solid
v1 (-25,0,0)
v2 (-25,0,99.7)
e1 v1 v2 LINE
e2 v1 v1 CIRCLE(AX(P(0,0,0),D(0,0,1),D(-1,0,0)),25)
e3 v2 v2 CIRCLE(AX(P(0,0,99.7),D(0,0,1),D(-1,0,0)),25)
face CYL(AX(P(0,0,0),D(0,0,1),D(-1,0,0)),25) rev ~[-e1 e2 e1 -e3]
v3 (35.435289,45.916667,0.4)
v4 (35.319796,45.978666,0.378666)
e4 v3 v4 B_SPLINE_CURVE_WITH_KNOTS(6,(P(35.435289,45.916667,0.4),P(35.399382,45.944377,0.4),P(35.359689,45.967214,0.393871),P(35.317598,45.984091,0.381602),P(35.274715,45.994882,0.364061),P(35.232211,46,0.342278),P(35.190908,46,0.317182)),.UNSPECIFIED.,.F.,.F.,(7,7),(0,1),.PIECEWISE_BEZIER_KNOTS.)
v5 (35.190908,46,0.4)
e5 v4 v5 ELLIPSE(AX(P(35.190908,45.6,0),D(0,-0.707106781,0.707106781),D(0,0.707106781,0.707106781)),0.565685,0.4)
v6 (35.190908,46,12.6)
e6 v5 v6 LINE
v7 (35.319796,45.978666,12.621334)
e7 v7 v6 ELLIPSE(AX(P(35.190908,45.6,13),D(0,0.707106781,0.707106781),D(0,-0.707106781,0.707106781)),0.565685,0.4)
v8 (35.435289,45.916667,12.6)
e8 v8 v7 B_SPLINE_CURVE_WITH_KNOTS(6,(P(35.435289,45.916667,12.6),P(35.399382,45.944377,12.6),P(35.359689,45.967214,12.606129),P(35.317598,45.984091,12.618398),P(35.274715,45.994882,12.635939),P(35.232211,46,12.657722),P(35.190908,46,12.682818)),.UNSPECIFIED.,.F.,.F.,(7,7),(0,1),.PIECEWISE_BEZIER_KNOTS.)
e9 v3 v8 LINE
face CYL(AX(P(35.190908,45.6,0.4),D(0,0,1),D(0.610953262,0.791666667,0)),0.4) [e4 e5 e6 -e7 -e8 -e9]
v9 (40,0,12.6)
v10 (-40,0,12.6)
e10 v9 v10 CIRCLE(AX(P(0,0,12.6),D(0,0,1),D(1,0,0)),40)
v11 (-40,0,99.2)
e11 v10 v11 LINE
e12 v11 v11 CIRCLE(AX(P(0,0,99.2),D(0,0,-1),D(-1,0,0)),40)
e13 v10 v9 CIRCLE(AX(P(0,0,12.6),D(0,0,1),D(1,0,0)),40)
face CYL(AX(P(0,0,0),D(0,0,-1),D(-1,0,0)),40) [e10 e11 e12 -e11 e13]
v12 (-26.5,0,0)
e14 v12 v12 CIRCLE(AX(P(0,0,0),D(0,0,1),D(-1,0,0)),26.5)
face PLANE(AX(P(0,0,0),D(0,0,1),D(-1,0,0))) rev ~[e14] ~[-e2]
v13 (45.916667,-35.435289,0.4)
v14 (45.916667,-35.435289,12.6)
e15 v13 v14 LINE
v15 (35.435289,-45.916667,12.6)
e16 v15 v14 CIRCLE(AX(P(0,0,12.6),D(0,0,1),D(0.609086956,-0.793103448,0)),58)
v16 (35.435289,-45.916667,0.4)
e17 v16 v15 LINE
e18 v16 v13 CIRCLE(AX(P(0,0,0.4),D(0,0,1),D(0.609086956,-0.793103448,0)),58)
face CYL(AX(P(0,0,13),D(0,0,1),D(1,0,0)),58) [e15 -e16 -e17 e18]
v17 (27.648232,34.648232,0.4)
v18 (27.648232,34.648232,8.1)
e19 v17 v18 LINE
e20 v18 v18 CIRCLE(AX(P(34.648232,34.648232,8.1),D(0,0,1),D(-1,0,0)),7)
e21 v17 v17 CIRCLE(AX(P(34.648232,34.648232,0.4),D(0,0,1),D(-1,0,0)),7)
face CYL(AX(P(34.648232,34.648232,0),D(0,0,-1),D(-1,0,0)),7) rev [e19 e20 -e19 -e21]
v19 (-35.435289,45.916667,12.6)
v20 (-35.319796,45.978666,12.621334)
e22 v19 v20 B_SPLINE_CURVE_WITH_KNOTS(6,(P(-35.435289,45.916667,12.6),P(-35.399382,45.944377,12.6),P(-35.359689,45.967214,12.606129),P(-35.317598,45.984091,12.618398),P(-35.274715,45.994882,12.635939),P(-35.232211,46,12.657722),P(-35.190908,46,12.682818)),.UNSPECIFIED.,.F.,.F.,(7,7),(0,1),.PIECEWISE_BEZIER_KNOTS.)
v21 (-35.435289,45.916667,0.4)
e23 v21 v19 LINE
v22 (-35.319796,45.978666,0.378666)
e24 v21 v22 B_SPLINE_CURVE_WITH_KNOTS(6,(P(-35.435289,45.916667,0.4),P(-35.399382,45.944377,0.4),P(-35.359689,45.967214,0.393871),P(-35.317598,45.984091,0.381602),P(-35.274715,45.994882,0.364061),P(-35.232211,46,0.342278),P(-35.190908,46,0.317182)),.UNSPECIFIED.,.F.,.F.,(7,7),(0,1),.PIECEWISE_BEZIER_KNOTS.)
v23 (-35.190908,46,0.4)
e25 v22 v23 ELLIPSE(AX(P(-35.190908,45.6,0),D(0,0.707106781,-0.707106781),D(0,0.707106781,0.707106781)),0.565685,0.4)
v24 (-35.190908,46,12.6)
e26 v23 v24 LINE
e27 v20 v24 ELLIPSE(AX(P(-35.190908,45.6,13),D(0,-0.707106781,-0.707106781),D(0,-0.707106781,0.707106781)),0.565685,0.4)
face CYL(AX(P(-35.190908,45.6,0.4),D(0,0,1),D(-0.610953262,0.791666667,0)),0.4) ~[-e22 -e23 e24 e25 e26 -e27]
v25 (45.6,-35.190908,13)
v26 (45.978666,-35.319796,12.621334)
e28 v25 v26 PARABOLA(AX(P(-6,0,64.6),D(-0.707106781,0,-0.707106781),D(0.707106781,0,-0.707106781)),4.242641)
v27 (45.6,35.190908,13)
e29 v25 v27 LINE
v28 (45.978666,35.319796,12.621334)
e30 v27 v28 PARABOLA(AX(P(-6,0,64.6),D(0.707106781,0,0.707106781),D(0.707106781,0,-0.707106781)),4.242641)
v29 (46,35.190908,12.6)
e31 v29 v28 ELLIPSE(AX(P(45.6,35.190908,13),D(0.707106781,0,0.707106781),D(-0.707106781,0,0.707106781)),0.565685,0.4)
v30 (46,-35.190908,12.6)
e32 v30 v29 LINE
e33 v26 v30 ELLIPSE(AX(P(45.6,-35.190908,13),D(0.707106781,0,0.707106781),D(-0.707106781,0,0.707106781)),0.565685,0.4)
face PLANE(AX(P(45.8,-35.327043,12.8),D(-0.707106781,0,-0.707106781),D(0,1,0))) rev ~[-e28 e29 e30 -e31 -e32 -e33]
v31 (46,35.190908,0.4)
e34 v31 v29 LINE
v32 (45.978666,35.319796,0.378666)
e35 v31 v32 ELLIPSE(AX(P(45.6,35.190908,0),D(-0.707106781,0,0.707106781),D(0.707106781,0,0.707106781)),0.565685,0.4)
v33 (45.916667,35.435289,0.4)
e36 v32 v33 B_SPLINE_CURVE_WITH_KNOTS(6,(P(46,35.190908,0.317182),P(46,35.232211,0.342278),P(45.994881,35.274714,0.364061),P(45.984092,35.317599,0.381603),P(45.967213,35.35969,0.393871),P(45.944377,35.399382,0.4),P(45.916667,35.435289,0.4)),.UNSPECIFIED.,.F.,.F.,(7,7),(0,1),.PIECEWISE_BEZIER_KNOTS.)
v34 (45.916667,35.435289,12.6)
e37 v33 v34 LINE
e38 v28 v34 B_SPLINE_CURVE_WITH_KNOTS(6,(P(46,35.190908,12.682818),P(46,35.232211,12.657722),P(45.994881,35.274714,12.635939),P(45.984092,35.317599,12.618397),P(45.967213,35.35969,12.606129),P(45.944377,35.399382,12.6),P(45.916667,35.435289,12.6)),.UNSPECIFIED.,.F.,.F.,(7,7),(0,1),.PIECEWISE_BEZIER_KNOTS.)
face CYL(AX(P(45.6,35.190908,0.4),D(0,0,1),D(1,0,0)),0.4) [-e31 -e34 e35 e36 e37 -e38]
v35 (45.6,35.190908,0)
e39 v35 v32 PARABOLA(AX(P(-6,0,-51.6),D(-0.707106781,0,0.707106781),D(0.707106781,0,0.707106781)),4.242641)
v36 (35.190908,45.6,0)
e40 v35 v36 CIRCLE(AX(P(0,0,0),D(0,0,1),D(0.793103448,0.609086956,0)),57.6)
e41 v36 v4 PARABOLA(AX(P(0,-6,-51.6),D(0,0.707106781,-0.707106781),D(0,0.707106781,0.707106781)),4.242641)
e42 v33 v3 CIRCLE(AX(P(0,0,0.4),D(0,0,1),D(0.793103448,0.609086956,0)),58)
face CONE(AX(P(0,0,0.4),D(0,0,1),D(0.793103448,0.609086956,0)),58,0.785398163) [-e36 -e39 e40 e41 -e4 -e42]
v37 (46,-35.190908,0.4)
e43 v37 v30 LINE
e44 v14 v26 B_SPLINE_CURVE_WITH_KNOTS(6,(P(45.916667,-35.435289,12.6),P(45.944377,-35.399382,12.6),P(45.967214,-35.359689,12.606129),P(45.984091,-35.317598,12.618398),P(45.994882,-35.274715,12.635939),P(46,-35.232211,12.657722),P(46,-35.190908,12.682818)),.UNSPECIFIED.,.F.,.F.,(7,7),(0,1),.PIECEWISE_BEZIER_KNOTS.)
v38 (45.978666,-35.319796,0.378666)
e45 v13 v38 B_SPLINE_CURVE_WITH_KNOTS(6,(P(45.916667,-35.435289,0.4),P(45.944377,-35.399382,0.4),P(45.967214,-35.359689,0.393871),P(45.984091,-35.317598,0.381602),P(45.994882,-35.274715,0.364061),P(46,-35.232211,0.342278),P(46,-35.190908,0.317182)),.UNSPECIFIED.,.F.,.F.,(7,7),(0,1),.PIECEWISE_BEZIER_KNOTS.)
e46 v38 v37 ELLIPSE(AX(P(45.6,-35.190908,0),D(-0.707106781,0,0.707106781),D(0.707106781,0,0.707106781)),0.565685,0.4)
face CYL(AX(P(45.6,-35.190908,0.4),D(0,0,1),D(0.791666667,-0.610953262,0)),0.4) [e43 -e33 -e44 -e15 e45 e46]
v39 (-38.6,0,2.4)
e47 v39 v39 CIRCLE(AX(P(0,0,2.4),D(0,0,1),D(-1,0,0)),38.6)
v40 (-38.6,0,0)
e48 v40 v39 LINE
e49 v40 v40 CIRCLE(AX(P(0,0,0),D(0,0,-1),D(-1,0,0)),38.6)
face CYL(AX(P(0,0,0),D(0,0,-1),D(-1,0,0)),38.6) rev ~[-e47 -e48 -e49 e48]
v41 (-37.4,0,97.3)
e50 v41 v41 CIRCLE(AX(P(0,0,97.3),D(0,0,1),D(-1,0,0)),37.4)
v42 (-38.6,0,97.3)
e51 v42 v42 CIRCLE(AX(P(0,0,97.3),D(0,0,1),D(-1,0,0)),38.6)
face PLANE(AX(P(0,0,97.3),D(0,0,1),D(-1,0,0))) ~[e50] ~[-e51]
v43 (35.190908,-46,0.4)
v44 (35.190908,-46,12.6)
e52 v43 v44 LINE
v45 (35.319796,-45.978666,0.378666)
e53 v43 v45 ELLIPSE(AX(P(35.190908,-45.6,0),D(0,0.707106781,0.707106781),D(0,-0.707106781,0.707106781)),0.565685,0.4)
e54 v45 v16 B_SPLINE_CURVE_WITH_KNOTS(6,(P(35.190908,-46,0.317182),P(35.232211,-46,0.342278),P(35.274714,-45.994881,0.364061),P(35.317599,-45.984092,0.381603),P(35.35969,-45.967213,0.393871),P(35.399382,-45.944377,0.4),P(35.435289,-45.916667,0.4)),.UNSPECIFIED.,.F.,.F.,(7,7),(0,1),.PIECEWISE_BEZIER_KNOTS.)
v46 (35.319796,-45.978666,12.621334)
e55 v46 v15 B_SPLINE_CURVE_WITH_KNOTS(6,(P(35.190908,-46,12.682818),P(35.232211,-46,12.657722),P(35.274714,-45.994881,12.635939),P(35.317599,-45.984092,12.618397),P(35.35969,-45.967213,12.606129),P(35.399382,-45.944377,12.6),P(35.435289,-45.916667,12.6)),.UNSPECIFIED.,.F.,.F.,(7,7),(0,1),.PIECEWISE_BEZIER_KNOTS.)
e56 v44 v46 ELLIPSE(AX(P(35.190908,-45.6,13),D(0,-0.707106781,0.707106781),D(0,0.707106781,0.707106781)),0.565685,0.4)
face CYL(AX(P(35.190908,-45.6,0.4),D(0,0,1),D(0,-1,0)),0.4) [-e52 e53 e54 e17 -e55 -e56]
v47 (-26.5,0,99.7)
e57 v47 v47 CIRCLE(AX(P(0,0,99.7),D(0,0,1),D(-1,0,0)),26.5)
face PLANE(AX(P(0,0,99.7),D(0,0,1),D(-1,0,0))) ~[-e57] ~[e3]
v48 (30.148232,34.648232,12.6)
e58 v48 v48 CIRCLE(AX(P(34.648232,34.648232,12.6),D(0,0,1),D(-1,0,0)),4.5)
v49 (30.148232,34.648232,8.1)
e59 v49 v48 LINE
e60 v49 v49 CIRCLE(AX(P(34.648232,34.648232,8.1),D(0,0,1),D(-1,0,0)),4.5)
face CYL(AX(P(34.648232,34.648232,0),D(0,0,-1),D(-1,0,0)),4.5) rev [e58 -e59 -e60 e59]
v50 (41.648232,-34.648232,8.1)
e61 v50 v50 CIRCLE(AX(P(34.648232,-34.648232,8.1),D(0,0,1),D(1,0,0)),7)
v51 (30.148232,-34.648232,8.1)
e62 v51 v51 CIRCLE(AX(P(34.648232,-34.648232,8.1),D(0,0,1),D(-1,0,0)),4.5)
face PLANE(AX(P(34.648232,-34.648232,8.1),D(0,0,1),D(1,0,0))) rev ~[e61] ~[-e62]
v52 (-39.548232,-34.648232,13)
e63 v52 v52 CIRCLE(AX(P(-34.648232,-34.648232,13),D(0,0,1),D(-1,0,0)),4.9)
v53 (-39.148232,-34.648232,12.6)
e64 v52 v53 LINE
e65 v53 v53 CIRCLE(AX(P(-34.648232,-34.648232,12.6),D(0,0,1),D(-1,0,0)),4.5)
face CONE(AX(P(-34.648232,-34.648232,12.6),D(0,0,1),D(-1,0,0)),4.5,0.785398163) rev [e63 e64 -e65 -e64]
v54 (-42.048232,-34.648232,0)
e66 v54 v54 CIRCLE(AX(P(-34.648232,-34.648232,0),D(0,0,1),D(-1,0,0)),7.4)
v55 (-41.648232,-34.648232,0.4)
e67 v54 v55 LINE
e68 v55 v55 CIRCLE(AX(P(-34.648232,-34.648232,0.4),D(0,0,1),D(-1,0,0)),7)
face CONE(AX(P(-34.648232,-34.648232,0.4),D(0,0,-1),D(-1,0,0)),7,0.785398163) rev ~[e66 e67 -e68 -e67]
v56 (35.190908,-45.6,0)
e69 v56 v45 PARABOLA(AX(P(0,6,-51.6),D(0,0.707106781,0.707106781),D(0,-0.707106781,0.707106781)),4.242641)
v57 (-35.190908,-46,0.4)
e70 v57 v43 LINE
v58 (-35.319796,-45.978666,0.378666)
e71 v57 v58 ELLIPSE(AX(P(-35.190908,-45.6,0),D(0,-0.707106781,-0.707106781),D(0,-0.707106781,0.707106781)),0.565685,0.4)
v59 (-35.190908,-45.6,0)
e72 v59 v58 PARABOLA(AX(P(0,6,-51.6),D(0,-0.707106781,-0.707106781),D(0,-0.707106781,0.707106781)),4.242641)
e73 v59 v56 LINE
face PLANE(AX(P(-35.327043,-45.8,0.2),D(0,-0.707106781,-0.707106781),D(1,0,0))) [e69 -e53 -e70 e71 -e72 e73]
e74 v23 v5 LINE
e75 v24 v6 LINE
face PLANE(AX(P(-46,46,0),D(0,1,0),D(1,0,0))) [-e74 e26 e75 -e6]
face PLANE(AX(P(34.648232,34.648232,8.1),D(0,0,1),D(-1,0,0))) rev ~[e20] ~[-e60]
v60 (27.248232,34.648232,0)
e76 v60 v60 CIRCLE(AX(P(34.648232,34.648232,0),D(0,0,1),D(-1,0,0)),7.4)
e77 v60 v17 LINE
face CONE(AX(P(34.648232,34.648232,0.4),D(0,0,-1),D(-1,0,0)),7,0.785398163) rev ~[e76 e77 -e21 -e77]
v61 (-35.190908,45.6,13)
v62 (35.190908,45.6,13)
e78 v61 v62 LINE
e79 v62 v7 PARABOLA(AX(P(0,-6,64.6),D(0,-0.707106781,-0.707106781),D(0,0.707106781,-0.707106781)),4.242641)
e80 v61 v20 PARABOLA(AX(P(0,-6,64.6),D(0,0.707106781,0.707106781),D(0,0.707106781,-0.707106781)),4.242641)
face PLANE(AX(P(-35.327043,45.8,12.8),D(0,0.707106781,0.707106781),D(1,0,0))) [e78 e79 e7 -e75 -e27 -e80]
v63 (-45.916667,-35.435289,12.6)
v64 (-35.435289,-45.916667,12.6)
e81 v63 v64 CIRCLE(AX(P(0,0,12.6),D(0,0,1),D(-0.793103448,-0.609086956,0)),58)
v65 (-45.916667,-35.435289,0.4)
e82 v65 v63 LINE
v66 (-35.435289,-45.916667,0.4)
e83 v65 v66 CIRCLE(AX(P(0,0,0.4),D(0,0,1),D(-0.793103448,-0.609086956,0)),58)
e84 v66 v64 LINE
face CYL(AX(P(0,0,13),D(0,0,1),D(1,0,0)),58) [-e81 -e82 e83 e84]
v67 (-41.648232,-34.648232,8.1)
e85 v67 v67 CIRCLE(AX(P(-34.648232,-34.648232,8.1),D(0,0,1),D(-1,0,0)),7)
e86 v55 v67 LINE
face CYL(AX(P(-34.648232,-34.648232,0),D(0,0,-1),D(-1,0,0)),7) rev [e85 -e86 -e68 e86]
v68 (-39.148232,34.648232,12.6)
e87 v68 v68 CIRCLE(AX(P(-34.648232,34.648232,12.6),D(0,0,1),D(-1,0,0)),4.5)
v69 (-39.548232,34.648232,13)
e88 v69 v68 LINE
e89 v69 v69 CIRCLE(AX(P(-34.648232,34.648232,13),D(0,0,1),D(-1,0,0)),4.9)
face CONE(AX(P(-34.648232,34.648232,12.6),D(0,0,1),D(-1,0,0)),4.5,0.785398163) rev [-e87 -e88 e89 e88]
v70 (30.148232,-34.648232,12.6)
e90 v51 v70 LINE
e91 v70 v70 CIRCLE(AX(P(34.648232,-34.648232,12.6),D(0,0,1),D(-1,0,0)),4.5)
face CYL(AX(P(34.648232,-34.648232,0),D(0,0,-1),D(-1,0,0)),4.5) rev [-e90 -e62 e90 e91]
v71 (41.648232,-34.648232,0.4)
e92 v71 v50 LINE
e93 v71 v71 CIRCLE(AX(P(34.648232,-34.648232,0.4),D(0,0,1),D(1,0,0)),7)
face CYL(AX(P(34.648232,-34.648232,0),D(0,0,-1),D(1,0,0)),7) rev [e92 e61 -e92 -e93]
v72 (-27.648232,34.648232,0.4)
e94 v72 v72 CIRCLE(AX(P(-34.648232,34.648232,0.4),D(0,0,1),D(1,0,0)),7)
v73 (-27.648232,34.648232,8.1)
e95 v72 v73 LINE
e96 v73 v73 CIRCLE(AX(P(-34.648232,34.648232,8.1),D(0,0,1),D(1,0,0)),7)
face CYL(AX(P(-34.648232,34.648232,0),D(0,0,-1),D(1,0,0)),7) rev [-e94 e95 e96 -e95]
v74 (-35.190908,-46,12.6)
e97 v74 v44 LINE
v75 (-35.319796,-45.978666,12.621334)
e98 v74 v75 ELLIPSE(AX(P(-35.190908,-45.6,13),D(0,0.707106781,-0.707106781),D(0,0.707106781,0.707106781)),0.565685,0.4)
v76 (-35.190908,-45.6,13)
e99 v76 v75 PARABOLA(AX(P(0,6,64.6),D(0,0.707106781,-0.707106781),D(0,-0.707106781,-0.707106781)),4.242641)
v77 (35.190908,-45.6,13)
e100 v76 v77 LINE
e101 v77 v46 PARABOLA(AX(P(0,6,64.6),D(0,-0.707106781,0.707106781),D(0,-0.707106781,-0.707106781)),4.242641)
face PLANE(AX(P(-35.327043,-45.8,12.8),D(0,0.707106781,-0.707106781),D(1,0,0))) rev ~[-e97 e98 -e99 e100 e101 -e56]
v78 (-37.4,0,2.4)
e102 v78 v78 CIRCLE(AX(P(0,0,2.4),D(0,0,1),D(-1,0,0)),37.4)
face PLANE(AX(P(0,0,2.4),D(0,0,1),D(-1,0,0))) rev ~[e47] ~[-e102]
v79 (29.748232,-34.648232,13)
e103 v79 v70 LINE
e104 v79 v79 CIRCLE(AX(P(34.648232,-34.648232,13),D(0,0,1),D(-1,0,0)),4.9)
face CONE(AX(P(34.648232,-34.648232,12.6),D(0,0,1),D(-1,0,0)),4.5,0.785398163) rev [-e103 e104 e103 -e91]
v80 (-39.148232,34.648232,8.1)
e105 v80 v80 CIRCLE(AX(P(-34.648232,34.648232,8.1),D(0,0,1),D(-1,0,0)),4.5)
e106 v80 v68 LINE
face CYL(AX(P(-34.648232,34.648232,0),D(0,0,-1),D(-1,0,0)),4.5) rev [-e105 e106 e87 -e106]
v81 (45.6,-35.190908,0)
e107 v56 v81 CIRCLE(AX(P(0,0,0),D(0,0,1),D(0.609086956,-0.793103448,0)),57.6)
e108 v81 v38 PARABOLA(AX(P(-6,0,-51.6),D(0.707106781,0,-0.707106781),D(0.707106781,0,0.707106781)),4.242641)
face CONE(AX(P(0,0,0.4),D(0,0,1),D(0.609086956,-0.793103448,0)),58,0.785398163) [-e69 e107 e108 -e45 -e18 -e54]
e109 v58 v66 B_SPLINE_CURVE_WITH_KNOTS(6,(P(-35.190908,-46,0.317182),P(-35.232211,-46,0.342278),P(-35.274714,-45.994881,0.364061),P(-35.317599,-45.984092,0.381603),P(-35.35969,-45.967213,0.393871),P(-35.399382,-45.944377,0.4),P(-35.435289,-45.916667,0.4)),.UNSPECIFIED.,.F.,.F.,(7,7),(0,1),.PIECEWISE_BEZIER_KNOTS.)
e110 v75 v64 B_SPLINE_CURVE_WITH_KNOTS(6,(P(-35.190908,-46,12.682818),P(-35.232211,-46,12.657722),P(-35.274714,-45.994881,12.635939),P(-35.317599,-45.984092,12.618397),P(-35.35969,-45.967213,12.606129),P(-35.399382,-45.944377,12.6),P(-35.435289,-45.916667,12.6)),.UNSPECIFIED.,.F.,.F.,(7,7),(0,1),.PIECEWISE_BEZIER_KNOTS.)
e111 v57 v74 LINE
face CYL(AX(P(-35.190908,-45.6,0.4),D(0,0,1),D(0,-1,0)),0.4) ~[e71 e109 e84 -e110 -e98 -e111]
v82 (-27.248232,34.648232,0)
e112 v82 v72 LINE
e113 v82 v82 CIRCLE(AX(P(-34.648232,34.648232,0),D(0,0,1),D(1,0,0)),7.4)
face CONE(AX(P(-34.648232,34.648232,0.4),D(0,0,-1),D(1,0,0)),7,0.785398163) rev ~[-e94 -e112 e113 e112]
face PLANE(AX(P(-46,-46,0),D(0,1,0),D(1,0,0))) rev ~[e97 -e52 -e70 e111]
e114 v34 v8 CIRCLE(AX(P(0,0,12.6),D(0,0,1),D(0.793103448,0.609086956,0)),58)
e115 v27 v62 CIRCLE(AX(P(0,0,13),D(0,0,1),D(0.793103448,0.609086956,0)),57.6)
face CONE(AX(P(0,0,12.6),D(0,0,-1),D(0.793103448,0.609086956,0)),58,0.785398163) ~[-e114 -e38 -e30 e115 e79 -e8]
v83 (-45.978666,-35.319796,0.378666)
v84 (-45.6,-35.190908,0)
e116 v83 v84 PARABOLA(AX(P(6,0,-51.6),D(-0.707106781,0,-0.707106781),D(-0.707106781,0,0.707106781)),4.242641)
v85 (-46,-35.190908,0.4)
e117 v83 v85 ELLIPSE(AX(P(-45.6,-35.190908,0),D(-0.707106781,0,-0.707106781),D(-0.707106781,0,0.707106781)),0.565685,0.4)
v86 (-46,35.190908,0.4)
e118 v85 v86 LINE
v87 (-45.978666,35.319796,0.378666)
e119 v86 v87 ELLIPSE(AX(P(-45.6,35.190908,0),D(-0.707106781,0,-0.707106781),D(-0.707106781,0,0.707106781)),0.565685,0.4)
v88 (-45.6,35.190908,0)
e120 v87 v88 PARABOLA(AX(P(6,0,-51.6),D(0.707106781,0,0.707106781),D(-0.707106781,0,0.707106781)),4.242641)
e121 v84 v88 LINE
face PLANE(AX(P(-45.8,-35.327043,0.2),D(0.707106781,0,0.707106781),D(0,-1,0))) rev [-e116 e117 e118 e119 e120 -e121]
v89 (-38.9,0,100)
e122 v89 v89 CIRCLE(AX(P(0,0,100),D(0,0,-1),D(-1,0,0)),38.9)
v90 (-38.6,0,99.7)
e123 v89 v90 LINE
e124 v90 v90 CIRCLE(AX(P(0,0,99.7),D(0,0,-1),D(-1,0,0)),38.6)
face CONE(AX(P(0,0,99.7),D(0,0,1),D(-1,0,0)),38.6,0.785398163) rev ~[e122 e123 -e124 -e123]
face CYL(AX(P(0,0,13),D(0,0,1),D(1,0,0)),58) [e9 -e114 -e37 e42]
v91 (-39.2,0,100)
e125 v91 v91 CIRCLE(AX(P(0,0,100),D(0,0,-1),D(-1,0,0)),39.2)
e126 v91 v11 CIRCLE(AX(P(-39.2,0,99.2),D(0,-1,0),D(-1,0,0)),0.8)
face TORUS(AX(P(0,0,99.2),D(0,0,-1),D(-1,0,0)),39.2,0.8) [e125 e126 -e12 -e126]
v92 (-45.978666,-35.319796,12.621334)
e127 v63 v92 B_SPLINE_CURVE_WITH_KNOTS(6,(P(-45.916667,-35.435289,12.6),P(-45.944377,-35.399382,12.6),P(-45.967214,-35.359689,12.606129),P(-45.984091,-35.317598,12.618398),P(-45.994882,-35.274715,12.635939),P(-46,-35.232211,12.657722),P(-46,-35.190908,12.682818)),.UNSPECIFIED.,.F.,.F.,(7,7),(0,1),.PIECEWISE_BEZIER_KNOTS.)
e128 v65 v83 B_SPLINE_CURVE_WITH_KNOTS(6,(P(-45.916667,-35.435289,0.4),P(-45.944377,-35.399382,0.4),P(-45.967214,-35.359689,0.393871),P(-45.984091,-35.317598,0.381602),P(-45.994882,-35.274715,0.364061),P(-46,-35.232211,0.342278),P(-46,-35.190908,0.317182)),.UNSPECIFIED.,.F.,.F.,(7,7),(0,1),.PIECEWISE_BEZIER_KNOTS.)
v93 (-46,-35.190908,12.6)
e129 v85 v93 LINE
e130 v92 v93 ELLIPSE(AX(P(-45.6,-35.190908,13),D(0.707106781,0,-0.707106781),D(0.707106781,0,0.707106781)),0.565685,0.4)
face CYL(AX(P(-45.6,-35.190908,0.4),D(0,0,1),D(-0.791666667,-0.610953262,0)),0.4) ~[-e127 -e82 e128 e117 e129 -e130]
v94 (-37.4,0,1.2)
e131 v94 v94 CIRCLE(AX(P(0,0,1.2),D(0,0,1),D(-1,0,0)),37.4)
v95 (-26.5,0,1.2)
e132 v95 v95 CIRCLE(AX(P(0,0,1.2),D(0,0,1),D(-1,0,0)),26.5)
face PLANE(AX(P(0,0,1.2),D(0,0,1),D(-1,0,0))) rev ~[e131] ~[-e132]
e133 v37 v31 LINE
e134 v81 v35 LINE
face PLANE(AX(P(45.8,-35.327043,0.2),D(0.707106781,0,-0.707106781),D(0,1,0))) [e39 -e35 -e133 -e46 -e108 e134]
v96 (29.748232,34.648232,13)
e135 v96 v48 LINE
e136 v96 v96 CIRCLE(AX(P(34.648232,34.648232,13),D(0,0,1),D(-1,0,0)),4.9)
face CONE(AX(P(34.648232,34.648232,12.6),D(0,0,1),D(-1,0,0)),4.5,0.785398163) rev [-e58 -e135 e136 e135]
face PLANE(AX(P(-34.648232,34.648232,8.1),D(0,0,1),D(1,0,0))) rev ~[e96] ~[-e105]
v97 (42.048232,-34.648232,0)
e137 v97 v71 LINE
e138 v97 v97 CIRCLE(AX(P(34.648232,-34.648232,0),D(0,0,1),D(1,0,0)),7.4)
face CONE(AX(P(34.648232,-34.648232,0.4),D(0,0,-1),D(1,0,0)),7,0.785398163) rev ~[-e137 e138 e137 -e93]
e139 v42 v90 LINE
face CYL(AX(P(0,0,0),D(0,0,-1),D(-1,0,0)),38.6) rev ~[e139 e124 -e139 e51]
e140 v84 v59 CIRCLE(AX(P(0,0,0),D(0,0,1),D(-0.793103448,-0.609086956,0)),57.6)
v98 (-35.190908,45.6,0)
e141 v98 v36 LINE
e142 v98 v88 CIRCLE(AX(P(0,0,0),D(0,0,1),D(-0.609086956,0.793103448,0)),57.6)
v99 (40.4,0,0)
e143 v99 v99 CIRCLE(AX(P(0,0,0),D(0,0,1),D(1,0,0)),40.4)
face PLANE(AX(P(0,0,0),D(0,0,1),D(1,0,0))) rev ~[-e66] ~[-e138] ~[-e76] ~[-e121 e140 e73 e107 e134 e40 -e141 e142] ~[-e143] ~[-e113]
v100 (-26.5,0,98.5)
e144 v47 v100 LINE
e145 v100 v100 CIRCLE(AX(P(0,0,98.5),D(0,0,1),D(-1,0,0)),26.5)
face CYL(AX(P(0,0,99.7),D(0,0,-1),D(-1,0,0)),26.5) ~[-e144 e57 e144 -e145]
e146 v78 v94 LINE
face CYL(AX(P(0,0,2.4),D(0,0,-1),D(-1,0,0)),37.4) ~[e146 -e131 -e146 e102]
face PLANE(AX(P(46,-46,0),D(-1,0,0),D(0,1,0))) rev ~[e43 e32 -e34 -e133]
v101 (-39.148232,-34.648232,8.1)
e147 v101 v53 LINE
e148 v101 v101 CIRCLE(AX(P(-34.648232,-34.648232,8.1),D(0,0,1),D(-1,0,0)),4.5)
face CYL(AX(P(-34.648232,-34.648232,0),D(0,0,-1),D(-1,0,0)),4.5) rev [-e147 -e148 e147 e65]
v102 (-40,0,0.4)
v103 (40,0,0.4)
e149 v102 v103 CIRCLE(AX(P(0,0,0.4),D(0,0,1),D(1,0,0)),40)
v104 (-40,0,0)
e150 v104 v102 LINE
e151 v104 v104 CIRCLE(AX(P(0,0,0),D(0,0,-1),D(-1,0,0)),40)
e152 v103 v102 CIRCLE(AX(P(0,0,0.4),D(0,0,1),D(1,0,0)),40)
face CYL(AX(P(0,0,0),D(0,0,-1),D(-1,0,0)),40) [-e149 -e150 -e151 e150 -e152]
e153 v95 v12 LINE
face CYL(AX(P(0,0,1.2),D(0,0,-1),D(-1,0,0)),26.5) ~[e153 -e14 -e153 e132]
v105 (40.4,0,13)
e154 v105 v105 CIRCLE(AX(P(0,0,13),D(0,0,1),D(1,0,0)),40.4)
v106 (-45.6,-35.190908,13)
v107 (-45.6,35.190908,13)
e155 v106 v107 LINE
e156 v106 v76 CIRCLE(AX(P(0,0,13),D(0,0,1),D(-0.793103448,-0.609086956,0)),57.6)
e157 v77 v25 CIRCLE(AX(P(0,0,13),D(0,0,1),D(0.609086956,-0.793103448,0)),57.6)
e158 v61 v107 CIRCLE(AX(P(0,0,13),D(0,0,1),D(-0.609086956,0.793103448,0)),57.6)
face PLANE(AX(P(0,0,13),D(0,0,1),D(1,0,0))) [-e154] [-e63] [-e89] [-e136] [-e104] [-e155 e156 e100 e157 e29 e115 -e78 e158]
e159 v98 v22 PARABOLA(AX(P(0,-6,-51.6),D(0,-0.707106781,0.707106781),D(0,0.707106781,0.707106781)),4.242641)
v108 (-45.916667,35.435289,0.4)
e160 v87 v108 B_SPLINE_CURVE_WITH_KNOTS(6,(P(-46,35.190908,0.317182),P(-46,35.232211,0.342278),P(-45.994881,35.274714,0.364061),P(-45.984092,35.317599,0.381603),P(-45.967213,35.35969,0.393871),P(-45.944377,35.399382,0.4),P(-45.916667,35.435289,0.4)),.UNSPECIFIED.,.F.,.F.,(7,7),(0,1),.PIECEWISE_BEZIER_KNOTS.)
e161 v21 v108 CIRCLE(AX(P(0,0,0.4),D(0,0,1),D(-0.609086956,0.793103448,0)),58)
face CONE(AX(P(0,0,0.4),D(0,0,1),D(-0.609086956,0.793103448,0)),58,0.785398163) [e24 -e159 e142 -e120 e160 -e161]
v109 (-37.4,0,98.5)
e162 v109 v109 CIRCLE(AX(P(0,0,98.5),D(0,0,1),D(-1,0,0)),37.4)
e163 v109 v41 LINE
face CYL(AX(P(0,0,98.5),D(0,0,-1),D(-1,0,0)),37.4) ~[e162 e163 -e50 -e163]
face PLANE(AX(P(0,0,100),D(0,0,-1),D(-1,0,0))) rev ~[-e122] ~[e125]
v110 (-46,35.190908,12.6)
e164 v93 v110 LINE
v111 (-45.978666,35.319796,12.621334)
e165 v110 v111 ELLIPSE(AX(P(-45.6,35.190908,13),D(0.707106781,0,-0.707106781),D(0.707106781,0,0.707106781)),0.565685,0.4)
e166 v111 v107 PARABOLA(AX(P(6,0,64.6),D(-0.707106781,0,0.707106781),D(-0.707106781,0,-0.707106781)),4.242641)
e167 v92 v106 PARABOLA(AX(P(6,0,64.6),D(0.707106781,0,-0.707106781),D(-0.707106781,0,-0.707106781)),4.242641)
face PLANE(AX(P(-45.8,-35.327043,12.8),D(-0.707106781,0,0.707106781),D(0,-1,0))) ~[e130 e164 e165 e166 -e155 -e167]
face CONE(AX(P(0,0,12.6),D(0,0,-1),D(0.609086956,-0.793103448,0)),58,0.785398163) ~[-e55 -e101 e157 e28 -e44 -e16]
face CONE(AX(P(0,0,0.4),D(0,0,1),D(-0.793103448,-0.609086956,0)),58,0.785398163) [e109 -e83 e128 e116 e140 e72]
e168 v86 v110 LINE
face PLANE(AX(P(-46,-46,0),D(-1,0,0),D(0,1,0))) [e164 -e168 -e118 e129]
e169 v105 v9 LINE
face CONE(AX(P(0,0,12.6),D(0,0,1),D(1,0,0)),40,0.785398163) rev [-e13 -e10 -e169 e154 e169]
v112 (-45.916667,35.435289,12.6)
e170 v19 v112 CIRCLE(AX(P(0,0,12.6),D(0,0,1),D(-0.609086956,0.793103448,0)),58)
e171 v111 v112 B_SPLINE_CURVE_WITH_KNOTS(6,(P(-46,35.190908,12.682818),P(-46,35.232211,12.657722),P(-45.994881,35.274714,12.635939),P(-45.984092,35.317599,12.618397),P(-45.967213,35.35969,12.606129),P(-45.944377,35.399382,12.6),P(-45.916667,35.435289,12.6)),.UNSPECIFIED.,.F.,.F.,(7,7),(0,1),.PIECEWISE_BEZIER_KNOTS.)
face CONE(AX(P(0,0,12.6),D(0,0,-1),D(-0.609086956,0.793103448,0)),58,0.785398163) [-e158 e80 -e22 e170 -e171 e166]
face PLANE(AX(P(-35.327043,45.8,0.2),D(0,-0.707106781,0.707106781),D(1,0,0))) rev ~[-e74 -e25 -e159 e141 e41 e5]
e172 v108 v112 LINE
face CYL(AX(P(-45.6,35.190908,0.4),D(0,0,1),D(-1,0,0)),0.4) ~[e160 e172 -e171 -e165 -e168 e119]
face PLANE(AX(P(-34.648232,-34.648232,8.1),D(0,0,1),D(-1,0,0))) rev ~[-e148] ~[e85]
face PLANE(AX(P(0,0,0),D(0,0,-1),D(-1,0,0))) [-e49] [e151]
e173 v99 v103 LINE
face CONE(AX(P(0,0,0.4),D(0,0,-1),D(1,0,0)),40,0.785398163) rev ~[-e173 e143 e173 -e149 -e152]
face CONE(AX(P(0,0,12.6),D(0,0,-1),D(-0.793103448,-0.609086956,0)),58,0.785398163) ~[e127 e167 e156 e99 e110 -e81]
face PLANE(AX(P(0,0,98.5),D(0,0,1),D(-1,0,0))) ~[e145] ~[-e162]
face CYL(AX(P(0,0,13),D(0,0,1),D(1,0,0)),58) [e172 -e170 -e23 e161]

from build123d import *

# Parameters (mm, degrees)
SKETCH_1_W          = 92
SKETCH_1_H          = 92
SKETCH_1_R          = 40
EXTRUDE_1_DEPTH     = 13
SKETCH_3_OUTSIDE_W  = 120.152
SKETCH_3_OUTSIDE_H  = 120.152
SKETCH_3_OUTSIDE_R  = 58
CUT_EXTRUDE_2_DEPTH = 13
SKETCH_5_R          = 4.5
CUT_EXTRUDE_3_DEPTH = 13
SKETCH_5_3_R        = 7
SKETCH_5_3_R_2      = 4.5
CUT_EXTRUDE_4_DEPTH = 8.1
CHAMFER_1_SIZE      = 0.4
SKETCH_7_R          = 40
SKETCH_7_R_2        = 38.6
EXTRUDE_2_DEPTH     = 100
FILLET_1_R          = 0.8
CHAMFER_2_SIZE      = 0.3
FILLET_2_R          = 0.4


with BuildPart() as part:
    # Sketch 1 → Extrude 1 (new body)
    with BuildSketch(Plane.XY):
        Rectangle(SKETCH_1_W, SKETCH_1_H)
        Circle(SKETCH_1_R, mode=Mode.SUBTRACT)
    extrude(amount=EXTRUDE_1_DEPTH)

    # Sketch 3 outside → Cut-Extrude 2 (cut)
    with BuildSketch(Plane.XY.offset(13)):
        Rectangle(SKETCH_3_OUTSIDE_W, SKETCH_3_OUTSIDE_H)
        Circle(SKETCH_3_OUTSIDE_R, mode=Mode.SUBTRACT)
    extrude(amount=-CUT_EXTRUDE_2_DEPTH, mode=Mode.SUBTRACT)

    # Sketch 5 → Cut-Extrude 3 (cut)
    with BuildSketch(Plane.XY):
        with Locations(Location((-34.648232278, 34.648232278, 0), (0, 0, 180))):  # turned: the seam where the file's is
            Circle(SKETCH_5_R)
        with Locations(Location((-34.648232278, -34.648232278, 0), (0, 0, 180))):  # turned: the seam where the file's is
            Circle(SKETCH_5_R)
        with Locations(Location((34.648232278, -34.648232278, 0), (0, 0, 180))):  # turned: the seam where the file's is
            Circle(SKETCH_5_R)
        with Locations(Location((34.648232278, 34.648232278, 0), (0, 0, 180))):  # turned: the seam where the file's is
            Circle(SKETCH_5_R)
    extrude(amount=CUT_EXTRUDE_3_DEPTH, mode=Mode.SUBTRACT)

    # Sketch 5_3 → Cut-Extrude 4 (cut)
    with BuildSketch(Plane.XY):
        with Locations((-34.648232278, 34.648232278)):
            Circle(SKETCH_5_3_R)
        with Locations(Location((-34.648232278, 34.648232278, 0), (0, 0, 180))):  # turned: the seam where the file's is
            Circle(SKETCH_5_3_R_2, mode=Mode.SUBTRACT)
        with Locations(Location((34.648232278, 34.648232278, 0), (0, 0, 180))):  # turned: the seam where the file's is
            Circle(SKETCH_5_3_R)
        with Locations(Location((34.648232278, 34.648232278, 0), (0, 0, 180))):  # turned: the seam where the file's is
            Circle(SKETCH_5_3_R_2, mode=Mode.SUBTRACT)
        with Locations((34.648232278, -34.648232278)):
            Circle(SKETCH_5_3_R)
        with Locations(Location((34.648232278, -34.648232278, 0), (0, 0, 180))):  # turned: the seam where the file's is
            Circle(SKETCH_5_3_R_2, mode=Mode.SUBTRACT)
        with Locations(Location((-34.648232278, -34.648232278, 0), (0, 0, 180))):  # turned: the seam where the file's is
            Circle(SKETCH_5_3_R)
        with Locations(Location((-34.648232278, -34.648232278, 0), (0, 0, 180))):  # turned: the seam where the file's is
            Circle(SKETCH_5_3_R_2, mode=Mode.SUBTRACT)
    extrude(amount=CUT_EXTRUDE_4_DEPTH, mode=Mode.SUBTRACT)

    # Chamfer 1
    chamfer_1_edges = [part.edges().sort_by_distance(p)[0] for p in [
        (41.648232278, 34.648232278, 0),
        (-41.648232278, 34.648232278, 0),
        (-40, 0, 0),
        (-40, 0, 13),
        (0, -46, 0),
        (0, -46, 13),
        (-46, 0, 0),
        (-46, 0, 13),
        (0, 46, 0),
        (0, 46, 13),
        (46, 0, 0),
        (46, 0, 13),
        (41.012193309, -41.012193309, 13),
        (41.012193309, 41.012193309, 13),
        (-41.012193309, 41.012193309, 13),
        (-41.012193309, -41.012193309, 13),
        (41.012193309, 41.012193309, 0),
        (-41.012193309, 41.012193309, 0),
        (41.012193309, -41.012193309, 0),
        (-41.012193309, -41.012193309, 0),
        (39.148232278, 34.648232278, 13),
        (39.148232278, -34.648232278, 13),
        (-30.148232278, -34.648232278, 13),
        (-30.148232278, 34.648232278, 13),
        (-27.648232278, -34.648232278, 0),
        (27.648232278, -34.648232278, 0),
    ]]
    chamfer(chamfer_1_edges, length=CHAMFER_1_SIZE)

    # Sketch 7 → Extrude 2 (add)
    with BuildSketch(Plane(origin=(0, 0, 0), x_dir=(-1, 0, 0), z_dir=(0, 0, -1))):
        Circle(SKETCH_7_R)
        Circle(SKETCH_7_R_2, mode=Mode.SUBTRACT)
    extrude(amount=-EXTRUDE_2_DEPTH)

    # Fillet 1
    fillet_1_edges = [part.edges().sort_by_distance(p)[0] for p in [
        (40, 0, 100),
    ]]
    fillet(fillet_1_edges, radius=FILLET_1_R)

    # Chamfer 2
    chamfer_2_edges = [part.edges().sort_by_distance(p)[0] for p in [
        (38.6, 0, 100),
    ]]
    chamfer(chamfer_2_edges, length=CHAMFER_2_SIZE)

    # Sketch 8 → Revolve 1 (revolve)
    with BuildSketch(Plane(origin=(0, 0, 0), x_dir=(0, 0, -1), z_dir=(1, 0, 0)), mode=Mode.PRIVATE) as revolve_1_sk:
        Polygon((-97.3, 38.6), (-2.4, 38.6), (-2.4, 37.4), (-1.2, 37.4), (-1.2, 26.5), (0, 26.5), (0, 25), (-99.7, 25), (-99.7, 26.5), (-98.5, 26.5), (-98.5, 37.4), (-97.3, 37.4), align=None)
    revolve(revolve_1_sk.sketch.rotate(Axis((0, 0, 0), (0, 0, 1)), 90), axis=Axis((0, 0, 0), (0, 0, 1)))  # turned: the seam where the file's is

    # Fillet 2
    fillet_2_edges = [part.edges().sort_by_distance(p)[0] for p in [
        (-35.327043465, 46, 6.5),
        (-46, 35.327043465, 6.5),
        (-46, -35.327043465, 6.5),
        (-35.327043465, -46, 6.5),
        (35.327043465, -46, 6.5),
        (46, -35.327043465, 6.5),
        (46, 35.327043465, 6.5),
        (35.327043465, 46, 6.5),
    ]]
    fillet(fillet_2_edges, radius=FILLET_2_R)


solid = part.part
